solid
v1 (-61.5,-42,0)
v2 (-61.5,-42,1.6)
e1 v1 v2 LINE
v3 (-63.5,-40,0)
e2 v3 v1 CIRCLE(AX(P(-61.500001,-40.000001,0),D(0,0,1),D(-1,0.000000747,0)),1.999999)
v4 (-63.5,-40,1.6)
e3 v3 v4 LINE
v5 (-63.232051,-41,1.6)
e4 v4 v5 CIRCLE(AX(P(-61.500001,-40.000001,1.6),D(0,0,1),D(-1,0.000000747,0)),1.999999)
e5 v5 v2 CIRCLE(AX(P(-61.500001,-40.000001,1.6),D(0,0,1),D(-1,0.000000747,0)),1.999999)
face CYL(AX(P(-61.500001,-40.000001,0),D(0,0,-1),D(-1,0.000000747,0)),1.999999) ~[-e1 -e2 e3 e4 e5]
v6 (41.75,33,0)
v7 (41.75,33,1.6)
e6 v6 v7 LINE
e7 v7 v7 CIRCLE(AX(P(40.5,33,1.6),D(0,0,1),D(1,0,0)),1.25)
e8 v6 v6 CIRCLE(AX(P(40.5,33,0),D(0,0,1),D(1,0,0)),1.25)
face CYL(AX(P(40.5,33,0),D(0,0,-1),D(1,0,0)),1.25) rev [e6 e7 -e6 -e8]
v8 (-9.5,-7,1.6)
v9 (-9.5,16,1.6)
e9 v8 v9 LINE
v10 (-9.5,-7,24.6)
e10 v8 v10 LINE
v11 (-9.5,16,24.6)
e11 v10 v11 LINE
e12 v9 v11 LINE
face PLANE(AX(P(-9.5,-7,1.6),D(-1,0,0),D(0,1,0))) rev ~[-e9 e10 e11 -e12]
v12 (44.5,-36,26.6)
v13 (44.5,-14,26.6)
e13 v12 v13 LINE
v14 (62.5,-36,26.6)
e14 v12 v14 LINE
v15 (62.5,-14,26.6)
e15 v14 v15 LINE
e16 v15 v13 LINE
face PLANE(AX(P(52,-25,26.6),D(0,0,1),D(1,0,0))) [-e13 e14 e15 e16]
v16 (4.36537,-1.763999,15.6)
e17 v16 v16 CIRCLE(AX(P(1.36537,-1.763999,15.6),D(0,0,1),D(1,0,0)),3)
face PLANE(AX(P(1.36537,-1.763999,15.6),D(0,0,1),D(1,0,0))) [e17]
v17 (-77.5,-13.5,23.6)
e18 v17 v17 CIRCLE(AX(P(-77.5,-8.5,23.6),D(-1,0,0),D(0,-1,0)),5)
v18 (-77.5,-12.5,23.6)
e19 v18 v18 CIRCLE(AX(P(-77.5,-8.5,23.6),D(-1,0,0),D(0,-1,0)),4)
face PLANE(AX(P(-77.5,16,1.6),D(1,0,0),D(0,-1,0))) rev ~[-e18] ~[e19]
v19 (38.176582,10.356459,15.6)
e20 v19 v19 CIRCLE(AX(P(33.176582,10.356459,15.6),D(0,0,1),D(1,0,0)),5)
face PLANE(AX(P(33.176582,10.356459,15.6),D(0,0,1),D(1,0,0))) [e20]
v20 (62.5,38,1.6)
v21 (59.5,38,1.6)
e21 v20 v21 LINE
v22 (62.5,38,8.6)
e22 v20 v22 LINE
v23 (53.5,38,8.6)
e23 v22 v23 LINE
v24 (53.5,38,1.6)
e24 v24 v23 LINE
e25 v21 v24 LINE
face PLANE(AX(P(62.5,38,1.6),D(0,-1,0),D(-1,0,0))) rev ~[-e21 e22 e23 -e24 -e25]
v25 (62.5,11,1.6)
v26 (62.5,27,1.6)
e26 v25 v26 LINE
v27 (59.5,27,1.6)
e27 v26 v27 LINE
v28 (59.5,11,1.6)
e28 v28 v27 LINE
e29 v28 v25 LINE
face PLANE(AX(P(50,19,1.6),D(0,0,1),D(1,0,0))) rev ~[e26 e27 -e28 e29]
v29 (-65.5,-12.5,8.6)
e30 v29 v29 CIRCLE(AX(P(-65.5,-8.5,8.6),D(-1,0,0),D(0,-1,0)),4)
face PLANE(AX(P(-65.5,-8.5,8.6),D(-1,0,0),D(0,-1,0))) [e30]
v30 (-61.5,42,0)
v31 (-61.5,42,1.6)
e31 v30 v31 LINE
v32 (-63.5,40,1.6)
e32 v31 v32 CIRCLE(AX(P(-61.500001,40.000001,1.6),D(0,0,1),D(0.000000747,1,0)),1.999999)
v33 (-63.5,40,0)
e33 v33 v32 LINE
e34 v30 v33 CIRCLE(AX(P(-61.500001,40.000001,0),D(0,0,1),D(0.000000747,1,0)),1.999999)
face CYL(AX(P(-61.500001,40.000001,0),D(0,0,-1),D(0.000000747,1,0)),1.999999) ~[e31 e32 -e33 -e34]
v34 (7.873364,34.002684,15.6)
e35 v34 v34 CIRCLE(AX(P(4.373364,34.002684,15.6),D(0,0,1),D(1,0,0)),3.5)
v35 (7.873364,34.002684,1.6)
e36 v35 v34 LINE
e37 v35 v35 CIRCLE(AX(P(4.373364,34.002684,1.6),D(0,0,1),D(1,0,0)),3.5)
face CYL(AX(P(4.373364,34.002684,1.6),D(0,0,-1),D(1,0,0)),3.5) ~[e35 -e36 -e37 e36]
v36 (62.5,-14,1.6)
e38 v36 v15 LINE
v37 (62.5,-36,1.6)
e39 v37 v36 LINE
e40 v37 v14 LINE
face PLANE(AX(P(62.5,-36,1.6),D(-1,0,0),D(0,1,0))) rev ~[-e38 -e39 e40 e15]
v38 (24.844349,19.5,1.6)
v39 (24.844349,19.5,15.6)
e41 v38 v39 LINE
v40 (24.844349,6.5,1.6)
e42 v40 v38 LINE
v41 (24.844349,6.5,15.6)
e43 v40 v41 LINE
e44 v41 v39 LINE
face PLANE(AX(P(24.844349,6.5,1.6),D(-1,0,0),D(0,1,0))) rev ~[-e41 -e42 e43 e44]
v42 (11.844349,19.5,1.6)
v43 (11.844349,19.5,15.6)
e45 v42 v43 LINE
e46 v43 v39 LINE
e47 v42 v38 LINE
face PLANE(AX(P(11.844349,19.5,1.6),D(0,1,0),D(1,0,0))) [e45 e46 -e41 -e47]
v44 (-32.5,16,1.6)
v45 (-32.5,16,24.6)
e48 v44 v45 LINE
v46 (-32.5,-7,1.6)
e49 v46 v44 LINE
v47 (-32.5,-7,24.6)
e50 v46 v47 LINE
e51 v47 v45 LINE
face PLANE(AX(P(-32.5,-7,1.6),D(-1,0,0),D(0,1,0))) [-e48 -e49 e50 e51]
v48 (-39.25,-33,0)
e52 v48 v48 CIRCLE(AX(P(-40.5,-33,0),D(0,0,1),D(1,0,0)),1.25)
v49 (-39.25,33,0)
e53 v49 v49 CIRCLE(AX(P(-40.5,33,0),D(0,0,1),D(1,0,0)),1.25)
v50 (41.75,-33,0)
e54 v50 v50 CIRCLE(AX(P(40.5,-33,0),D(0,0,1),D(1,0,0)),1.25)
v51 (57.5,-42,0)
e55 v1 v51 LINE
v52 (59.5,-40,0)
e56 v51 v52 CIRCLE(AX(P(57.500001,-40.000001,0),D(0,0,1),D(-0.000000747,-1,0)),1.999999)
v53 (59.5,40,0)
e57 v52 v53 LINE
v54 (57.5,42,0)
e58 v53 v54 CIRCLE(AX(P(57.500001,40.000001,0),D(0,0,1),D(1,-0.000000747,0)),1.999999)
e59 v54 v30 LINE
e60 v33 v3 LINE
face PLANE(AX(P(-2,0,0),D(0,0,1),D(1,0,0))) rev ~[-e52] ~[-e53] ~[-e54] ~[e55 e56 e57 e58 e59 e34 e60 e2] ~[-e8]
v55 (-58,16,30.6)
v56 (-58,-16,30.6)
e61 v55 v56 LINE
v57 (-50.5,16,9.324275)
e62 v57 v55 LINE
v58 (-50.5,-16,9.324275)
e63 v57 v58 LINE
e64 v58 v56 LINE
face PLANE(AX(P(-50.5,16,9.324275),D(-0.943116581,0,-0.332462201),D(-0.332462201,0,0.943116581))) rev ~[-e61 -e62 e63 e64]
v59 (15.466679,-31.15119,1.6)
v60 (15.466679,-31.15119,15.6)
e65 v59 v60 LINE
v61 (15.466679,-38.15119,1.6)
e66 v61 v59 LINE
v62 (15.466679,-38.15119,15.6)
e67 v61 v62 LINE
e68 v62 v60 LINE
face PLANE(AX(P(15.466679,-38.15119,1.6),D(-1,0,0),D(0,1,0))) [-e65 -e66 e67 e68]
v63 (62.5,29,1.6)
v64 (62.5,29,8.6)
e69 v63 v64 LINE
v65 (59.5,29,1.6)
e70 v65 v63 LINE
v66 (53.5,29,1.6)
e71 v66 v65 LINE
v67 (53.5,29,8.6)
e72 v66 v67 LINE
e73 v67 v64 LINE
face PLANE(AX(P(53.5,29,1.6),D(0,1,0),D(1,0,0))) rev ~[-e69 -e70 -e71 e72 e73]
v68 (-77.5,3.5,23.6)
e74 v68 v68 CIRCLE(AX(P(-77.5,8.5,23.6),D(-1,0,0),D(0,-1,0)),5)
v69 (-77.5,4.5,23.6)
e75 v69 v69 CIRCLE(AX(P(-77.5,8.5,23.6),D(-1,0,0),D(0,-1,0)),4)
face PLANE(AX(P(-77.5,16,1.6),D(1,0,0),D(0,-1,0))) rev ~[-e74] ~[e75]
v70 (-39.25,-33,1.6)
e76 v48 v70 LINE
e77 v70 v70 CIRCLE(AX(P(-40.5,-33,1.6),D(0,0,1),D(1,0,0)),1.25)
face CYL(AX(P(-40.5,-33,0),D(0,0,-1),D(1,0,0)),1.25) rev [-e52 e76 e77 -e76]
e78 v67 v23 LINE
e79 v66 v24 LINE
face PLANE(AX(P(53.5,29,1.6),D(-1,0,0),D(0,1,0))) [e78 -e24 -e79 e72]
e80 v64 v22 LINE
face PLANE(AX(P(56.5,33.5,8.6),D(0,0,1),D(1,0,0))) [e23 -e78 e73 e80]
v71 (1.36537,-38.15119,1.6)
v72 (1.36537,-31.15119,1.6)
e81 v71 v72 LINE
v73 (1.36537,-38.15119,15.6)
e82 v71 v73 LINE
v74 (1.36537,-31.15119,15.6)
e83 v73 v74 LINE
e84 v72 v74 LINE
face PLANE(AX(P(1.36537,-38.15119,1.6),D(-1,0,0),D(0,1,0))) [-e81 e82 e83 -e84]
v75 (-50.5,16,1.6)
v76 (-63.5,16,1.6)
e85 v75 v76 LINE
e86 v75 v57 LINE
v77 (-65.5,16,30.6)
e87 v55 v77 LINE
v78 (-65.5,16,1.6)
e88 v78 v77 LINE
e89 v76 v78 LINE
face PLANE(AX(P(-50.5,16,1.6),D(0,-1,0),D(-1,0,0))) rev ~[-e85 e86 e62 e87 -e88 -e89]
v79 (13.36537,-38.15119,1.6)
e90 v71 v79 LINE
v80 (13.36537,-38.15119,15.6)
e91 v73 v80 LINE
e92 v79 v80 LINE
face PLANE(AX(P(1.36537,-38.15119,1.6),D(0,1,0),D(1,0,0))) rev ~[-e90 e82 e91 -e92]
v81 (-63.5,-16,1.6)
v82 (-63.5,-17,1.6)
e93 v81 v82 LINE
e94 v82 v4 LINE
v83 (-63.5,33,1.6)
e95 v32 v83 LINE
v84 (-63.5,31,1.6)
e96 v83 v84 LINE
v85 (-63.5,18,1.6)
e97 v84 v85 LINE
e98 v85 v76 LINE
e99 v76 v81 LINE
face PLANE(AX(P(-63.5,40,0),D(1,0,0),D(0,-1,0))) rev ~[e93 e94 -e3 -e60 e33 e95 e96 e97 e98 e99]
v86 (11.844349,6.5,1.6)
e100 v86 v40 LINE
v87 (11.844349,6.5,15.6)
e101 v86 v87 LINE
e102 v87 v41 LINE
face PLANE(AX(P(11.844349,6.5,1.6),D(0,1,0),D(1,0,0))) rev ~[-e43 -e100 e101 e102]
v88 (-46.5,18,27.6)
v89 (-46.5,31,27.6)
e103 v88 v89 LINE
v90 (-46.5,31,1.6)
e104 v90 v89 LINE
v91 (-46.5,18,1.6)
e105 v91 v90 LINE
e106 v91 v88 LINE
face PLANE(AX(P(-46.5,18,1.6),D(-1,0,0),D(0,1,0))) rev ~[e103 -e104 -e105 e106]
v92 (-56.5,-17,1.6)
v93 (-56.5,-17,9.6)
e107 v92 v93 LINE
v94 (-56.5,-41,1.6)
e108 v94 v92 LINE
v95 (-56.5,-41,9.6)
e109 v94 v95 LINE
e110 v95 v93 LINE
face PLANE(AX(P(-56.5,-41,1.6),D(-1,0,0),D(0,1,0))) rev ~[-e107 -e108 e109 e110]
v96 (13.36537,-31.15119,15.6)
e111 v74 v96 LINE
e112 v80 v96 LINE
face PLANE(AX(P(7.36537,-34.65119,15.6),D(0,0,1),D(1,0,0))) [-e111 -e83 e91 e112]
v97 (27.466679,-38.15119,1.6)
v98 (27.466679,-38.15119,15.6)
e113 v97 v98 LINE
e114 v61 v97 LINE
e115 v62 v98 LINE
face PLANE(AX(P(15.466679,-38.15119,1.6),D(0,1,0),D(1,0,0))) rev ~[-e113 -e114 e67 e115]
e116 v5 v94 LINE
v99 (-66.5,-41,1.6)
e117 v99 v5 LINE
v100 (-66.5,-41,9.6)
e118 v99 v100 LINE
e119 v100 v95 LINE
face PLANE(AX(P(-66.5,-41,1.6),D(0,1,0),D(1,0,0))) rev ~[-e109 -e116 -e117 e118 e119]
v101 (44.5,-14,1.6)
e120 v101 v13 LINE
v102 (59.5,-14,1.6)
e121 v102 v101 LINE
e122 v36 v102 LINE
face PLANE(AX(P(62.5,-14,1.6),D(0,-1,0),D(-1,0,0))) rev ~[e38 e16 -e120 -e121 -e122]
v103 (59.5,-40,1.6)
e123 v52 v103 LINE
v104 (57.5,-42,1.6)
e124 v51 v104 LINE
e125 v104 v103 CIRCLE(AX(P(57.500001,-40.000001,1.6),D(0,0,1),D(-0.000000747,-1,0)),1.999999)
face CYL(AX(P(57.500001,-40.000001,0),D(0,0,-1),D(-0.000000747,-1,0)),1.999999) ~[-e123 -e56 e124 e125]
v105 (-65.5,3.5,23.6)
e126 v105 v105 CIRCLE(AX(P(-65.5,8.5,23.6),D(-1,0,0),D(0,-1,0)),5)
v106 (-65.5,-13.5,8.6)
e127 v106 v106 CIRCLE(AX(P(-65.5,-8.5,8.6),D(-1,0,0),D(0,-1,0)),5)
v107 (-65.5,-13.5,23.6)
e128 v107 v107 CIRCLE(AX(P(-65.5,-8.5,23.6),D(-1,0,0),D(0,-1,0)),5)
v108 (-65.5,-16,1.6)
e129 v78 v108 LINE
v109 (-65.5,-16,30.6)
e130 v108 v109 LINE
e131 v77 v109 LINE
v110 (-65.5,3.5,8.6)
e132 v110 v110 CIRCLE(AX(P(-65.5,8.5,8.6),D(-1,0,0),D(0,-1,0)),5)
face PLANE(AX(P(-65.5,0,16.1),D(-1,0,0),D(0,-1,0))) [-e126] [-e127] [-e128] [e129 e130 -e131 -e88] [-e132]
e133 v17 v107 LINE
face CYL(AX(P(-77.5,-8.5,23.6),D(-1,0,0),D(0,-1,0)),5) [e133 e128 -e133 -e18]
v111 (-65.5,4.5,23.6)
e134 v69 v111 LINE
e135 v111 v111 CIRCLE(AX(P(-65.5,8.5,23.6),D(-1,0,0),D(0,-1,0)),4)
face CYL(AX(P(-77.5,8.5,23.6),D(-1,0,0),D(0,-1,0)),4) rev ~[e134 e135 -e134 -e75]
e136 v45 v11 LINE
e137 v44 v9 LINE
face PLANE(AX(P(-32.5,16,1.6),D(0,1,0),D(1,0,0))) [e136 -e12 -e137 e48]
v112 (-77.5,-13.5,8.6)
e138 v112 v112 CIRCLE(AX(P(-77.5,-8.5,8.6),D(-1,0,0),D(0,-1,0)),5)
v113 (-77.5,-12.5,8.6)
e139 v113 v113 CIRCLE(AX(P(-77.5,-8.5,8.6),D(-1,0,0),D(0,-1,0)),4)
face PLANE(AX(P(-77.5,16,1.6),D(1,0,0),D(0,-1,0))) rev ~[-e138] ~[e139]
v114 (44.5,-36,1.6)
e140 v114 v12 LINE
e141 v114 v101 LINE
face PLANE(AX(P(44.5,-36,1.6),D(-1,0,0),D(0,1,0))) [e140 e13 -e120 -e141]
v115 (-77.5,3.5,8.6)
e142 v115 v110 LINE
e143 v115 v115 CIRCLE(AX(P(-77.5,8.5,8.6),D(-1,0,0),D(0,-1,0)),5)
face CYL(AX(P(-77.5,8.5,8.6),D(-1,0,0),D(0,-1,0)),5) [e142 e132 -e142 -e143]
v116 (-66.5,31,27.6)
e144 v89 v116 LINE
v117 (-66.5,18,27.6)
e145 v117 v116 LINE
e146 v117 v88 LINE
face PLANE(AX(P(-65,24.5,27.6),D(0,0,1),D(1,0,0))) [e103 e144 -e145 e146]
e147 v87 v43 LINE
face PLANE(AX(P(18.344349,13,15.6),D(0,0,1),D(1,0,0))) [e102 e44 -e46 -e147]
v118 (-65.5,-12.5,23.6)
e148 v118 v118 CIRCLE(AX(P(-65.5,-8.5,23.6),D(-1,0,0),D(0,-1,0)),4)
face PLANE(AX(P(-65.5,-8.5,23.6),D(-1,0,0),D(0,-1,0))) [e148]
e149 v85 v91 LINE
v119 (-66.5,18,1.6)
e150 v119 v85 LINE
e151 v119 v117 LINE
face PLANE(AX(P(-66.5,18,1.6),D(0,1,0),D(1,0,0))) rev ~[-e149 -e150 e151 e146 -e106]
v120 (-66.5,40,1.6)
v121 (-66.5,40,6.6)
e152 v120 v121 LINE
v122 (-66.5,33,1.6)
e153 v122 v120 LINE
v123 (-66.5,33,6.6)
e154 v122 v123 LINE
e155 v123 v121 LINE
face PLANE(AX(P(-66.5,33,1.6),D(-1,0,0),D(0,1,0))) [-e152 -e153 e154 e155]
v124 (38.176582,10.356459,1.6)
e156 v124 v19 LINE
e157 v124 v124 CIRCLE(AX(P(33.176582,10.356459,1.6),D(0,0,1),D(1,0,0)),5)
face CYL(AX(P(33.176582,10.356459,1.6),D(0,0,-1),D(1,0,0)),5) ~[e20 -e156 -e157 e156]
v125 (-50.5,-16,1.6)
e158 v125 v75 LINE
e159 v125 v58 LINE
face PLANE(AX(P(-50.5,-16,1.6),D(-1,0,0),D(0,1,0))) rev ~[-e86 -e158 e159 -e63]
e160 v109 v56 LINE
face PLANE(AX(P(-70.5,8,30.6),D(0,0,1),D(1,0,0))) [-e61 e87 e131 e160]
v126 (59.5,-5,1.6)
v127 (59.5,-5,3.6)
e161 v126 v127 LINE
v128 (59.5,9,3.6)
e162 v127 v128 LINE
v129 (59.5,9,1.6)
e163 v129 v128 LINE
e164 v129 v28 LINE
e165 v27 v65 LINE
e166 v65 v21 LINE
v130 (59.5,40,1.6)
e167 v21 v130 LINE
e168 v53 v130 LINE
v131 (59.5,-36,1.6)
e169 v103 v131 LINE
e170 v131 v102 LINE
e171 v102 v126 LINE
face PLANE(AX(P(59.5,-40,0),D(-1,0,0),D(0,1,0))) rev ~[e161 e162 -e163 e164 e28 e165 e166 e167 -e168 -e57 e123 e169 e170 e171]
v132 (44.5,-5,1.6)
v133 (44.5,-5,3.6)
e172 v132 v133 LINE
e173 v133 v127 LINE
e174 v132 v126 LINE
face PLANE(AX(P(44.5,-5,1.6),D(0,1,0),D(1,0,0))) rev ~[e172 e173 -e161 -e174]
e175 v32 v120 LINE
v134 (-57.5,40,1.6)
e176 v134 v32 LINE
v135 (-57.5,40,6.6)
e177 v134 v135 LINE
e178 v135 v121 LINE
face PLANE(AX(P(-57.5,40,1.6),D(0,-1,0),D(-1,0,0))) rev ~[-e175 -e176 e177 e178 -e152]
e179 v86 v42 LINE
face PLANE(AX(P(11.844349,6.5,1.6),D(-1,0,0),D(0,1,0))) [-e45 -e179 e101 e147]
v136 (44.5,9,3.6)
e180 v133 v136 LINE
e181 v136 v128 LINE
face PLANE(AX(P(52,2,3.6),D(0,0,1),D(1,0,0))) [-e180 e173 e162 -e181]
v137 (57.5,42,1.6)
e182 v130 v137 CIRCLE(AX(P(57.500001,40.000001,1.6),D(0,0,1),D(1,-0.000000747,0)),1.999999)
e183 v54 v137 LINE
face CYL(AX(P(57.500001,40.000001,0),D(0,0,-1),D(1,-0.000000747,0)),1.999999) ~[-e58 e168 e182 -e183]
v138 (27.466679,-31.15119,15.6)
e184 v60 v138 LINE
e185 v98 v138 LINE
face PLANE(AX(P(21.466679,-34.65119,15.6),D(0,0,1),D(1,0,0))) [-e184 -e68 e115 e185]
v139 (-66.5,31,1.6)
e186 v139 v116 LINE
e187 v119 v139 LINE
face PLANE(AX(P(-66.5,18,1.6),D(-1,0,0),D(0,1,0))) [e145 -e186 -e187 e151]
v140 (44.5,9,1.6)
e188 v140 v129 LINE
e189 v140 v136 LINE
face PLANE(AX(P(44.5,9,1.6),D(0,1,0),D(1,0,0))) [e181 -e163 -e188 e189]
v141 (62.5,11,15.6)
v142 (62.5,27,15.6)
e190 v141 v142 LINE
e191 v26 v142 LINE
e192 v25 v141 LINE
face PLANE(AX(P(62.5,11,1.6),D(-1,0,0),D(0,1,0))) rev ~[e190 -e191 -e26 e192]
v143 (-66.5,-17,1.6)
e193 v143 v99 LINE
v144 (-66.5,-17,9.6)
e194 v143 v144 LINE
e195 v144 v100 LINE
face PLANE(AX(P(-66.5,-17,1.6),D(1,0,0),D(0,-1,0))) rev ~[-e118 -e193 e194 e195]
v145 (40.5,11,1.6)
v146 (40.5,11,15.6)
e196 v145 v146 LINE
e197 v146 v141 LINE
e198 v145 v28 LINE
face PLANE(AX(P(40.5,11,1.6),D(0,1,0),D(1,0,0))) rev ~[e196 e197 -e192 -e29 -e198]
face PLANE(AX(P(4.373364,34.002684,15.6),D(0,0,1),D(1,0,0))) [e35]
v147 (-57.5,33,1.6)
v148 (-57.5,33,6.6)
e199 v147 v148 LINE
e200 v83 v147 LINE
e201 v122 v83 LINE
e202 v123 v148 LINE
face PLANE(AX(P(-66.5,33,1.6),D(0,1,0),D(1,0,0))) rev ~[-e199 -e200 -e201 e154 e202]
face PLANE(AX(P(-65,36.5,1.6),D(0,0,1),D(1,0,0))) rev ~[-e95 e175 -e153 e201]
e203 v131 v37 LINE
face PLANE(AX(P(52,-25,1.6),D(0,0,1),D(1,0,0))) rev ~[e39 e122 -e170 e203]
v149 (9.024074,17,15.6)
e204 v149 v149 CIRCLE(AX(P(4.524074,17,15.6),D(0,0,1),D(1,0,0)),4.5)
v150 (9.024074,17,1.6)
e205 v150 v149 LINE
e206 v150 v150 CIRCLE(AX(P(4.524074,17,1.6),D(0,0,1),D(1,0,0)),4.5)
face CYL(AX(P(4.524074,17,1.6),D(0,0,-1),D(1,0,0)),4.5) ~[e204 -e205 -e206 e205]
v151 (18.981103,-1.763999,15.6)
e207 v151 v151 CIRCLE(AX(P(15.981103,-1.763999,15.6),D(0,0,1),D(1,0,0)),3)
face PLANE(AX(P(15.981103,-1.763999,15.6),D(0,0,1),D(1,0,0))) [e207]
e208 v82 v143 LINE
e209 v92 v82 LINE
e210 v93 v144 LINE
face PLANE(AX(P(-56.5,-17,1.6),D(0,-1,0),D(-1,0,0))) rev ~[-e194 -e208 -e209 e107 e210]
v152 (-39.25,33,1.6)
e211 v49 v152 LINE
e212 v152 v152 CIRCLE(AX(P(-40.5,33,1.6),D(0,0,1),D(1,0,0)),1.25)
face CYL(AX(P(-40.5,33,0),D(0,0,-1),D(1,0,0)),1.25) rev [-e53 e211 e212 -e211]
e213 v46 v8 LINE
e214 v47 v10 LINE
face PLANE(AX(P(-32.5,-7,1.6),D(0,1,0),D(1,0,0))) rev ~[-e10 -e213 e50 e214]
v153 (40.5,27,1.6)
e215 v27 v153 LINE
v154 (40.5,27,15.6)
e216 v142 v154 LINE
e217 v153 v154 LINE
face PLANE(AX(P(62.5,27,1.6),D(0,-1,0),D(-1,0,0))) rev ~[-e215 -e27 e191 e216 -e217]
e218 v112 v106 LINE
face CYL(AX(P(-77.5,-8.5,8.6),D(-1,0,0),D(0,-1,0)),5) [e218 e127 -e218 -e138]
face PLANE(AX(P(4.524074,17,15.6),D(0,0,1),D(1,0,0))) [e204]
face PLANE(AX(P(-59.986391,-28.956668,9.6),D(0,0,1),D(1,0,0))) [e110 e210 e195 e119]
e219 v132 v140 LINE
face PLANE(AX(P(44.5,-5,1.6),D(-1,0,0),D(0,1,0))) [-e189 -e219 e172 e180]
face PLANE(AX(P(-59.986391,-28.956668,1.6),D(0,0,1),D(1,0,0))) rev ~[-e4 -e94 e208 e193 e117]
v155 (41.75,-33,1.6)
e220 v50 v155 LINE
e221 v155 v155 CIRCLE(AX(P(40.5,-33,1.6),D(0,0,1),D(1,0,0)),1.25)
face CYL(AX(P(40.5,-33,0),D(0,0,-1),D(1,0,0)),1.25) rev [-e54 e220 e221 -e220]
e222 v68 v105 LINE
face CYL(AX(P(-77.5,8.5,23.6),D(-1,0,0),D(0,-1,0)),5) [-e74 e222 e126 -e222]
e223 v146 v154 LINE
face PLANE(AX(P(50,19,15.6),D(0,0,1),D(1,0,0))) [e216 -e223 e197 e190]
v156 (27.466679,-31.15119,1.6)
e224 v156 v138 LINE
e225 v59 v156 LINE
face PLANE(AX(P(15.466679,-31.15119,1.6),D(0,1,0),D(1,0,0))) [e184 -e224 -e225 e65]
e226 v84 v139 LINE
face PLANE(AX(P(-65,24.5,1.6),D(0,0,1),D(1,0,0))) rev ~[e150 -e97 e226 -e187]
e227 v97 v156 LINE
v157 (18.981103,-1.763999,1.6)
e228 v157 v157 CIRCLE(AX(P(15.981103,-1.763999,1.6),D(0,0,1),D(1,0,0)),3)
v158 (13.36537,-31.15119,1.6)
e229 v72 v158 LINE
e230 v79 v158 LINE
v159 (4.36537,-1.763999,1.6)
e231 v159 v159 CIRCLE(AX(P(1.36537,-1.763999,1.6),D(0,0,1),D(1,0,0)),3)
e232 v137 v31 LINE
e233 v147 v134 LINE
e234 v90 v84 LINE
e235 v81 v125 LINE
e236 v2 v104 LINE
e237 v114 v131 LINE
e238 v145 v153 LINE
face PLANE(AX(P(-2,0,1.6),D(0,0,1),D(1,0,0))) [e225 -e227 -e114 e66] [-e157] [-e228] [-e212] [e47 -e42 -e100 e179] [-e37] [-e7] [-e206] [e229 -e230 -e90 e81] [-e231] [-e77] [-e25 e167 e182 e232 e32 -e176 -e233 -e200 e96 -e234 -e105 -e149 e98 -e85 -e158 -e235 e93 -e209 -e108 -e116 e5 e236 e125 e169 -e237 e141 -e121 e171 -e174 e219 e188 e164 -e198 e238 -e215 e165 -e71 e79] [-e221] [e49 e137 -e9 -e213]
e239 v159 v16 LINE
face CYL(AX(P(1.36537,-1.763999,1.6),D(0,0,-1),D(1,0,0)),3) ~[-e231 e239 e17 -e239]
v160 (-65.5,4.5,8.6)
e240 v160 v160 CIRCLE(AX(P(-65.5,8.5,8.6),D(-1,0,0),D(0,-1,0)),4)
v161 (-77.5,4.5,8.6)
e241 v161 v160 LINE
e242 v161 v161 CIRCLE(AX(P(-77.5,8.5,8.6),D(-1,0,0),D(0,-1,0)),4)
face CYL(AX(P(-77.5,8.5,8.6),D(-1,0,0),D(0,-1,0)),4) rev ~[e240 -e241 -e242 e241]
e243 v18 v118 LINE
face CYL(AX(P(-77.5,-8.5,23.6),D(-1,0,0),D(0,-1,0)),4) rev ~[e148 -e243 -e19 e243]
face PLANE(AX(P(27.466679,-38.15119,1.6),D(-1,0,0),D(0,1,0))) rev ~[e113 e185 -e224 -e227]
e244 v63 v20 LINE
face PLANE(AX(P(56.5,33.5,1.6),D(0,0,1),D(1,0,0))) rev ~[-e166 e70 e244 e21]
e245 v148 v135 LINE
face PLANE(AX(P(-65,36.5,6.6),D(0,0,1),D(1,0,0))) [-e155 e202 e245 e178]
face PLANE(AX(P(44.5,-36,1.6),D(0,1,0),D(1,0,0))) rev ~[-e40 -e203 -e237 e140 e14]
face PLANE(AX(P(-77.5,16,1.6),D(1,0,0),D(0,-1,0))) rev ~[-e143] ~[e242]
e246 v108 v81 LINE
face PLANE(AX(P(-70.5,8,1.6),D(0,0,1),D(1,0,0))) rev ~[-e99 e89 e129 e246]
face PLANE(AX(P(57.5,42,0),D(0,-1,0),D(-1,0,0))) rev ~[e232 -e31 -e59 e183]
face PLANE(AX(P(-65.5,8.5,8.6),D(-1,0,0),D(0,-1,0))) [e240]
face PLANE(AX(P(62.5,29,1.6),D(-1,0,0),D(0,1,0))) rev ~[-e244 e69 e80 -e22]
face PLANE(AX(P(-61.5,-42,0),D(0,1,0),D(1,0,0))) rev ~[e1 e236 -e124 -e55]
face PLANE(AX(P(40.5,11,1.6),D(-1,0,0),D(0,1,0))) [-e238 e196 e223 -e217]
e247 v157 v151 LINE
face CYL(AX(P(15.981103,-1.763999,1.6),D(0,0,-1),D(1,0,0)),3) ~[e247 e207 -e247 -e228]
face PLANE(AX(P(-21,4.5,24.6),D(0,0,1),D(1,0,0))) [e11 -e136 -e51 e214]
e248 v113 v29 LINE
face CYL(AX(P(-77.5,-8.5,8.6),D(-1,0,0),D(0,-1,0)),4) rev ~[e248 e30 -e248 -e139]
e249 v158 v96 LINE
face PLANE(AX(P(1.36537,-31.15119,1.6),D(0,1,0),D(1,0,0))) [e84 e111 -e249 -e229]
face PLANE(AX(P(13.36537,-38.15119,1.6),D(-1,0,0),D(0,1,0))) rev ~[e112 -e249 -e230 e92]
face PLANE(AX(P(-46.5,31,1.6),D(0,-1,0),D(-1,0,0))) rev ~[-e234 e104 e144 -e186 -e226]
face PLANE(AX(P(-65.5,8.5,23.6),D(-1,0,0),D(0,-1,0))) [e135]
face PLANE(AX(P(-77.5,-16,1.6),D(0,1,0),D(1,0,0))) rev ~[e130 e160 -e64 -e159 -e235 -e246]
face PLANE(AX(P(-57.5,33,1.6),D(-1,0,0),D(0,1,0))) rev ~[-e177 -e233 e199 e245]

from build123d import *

# Parameters (mm, degrees)
F0_R      = 1.25
F1_DEPTH  = 1.6
F2_W      = 3
F2_H      = 7
F2_W_2    = 6
F3_DEPTH  = 5
F4_DEPTH  = 8
F2_W_3    = 14
F2_H_2    = 16
F2_W_4    = 13
F5_DEPTH  = 29
F6_W      = 32
F6_H      = 29
F6_R      = 5
F6_R_2    = 4
F7_DEPTH  = 12
F9_DEPTH  = 32
F2_H_3    = 13
F2_W_5    = 17
F10_DEPTH = 26
F2_H_4    = 9
F11_DEPTH = 7
F2_W_6    = 19
F2_R      = 3.5
F2_R_2    = 4.5
F2_R_3    = 5
F2_R_4    = 3
F2_W_7    = 12
F12_DEPTH = 14
F2_W_8    = 15
F2_H_5    = 14
F13_DEPTH = 2
F2_H_6    = 22
F14_DEPTH = 25
F2_W_9    = 23
F2_H_7    = 23
F15_DEPTH = 23


with BuildPart() as f1:
    # F0 (on Top) → F1 (new body)
    with BuildSketch(Plane.XY):
        with BuildLine():
            Line((57.5, 42), (-61.5, 42))
            ThreePointArc((-61.5, 42), (-62.914214, 41.414214), (-63.5, 40))
            Line((-63.5, 40), (-63.5, -40))
            ThreePointArc((-63.5, -40), (-62.914214, -41.414214), (-61.5, -42))
            Line((-61.5, -42), (57.5, -42))
            ThreePointArc((57.5, -42), (58.914214, -41.414214), (59.5, -40))
            Line((59.5, -40), (59.5, 40))
            ThreePointArc((59.5, 40), (58.914214, 41.414214), (57.5, 42))
        make_face()
        with Locations((-40.5, -33)):
            Circle(F0_R, mode=Mode.SUBTRACT)
        with Locations((40.5, -33)):
            Circle(F0_R, mode=Mode.SUBTRACT)
        with Locations((-40.5, 33)):
            Circle(F0_R, mode=Mode.SUBTRACT)
        with Locations((40.5, 33)):
            Circle(F0_R, mode=Mode.SUBTRACT)
    extrude(amount=F1_DEPTH)

    # F2 (on face) → F3 (join)
    with BuildSketch(Plane.XY.offset(1.6)):
        with Locations((-65, 36.5)):
            Rectangle(F2_W, F2_H)
        with Locations((-60.5, 36.5)):
            Rectangle(F2_W_2, F2_H)
    extrude(amount=F3_DEPTH)

    # F2 (on face) → F4 (join)
    with BuildSketch(Plane.XY.offset(1.6)):
        with BuildLine():
            Line((-56.5, -17), (-63.5, -17))
            Line((-63.5, -17), (-63.5, -40))
            ThreePointArc((-63.5, -40), (-63.431852, -40.517638), (-63.232051, -41))
            Line((-63.232051, -41), (-56.5, -41))
            Line((-56.5, -41), (-56.5, -17))
        make_face()
        with BuildLine():
            Line((-63.5, -40), (-63.5, -17))
            Line((-63.5, -17), (-66.5, -17))
            Line((-66.5, -17), (-66.5, -41))
            Line((-66.5, -41), (-63.232051, -41))
            ThreePointArc((-63.232051, -41), (-63.431852, -40.517638), (-63.5, -40))
        make_face()
    extrude(amount=F4_DEPTH)

    # F2 (on face) → F5 (join)
    with BuildSketch(Plane.XY.offset(1.6)):
        with Locations((-70.5, 8)):
            Rectangle(F2_W_3, F2_H_2)
        with Locations((-57, 8)):
            Rectangle(F2_W_4, F2_H_2)
        with Locations((-70.5, -8)):
            Rectangle(F2_W_3, F2_H_2)
        with Locations((-57, -8)):
            Rectangle(F2_W_4, F2_H_2)
    extrude(amount=F5_DEPTH)

    # F6 (on face) → F7 (cut)
    with BuildSketch(Plane(origin=(-77.5, 0, 0), x_dir=(0, -1, 0), z_dir=(-1, 0, 0))):
        with Locations((0, 16.1)):
            Rectangle(F6_W, F6_H)
        with Locations((-8.5, 8.6)):
            Circle(F6_R, mode=Mode.SUBTRACT)
        with Locations((8.5, 8.6)):
            Circle(F6_R, mode=Mode.SUBTRACT)
        with Locations((-8.5, 23.6)):
            Circle(F6_R, mode=Mode.SUBTRACT)
        with Locations((8.5, 23.6)):
            Circle(F6_R, mode=Mode.SUBTRACT)
        with Locations((-8.5, 23.6)):
            Circle(F6_R_2)
        with Locations((8.5, 23.6)):
            Circle(F6_R_2)
        with Locations((-8.5, 8.6)):
            Circle(F6_R_2)
        with Locations((8.5, 8.6)):
            Circle(F6_R_2)
    extrude(amount=-F7_DEPTH, mode=Mode.SUBTRACT)

    # F8 (on face) → F9 (cut, through all)
    with BuildSketch(Plane(origin=(0, 16, 0), x_dir=(-1, 0, 0), z_dir=(0, 1, 0))):
        Polygon((50.5, 9.324275), (58, 30.6), (50.5, 30.6), align=None)
    extrude(amount=-F9_DEPTH, mode=Mode.SUBTRACT)

    # F2 (on face) → F10 (join)
    with BuildSketch(Plane.XY.offset(1.6)):
        with Locations((-65, 24.5)):
            Rectangle(F2_W, F2_H_3)
        with Locations((-55, 24.5)):
            Rectangle(F2_W_5, F2_H_3)
    extrude(amount=F10_DEPTH)

    # F2 (on face) → F11 (join)
    with BuildSketch(Plane.XY.offset(1.6)):
        with Locations((56.5, 33.5)):
            Rectangle(F2_W_2, F2_H_4)
        with Locations((61, 33.5)):
            Rectangle(F2_W, F2_H_4)
    extrude(amount=F11_DEPTH)

    # F2 (on face) → F12 (join)
    with BuildSketch(Plane.XY.offset(1.6)):
        with Locations((50, 19)):
            Rectangle(F2_W_6, F2_H_2)
        with Locations((61, 19)):
            Rectangle(F2_W, F2_H_2)
        with Locations((4.373364, 34.002684)):
            Circle(F2_R)
        with Locations((4.524074, 17)):
            Circle(F2_R_2)
        with Locations((18.344349, 13)):
            Rectangle(F2_W_4, F2_H_3)
        with Locations((33.176582, 10.356459)):
            Circle(F2_R_3)
        with Locations((15.981103, -1.763999)):
            Circle(F2_R_4)
        with Locations((1.36537, -1.763999)):
            Circle(F2_R_4)
        with Locations((7.36537, -34.65119)):
            Rectangle(F2_W_7, F2_H)
        with Locations((21.466679, -34.65119)):
            Rectangle(F2_W_7, F2_H)
    extrude(amount=F12_DEPTH)

    # F2 (on face) → F13 (join)
    with BuildSketch(Plane.XY.offset(1.6)):
        with Locations((52, 2)):
            Rectangle(F2_W_8, F2_H_5)
    extrude(amount=F13_DEPTH)

    # F2 (on face) → F14 (join)
    with BuildSketch(Plane.XY.offset(1.6)):
        with Locations((52, -25)):
            Rectangle(F2_W_8, F2_H_6)
        with Locations((61, -25)):
            Rectangle(F2_W, F2_H_6)
    extrude(amount=F14_DEPTH)

    # F2 (on face) → F15 (join)
    with BuildSketch(Plane.XY.offset(1.6)):
        with Locations((-21, 4.5)):
            Rectangle(F2_W_9, F2_H_7)
    extrude(amount=F15_DEPTH)


solid = f1.part
